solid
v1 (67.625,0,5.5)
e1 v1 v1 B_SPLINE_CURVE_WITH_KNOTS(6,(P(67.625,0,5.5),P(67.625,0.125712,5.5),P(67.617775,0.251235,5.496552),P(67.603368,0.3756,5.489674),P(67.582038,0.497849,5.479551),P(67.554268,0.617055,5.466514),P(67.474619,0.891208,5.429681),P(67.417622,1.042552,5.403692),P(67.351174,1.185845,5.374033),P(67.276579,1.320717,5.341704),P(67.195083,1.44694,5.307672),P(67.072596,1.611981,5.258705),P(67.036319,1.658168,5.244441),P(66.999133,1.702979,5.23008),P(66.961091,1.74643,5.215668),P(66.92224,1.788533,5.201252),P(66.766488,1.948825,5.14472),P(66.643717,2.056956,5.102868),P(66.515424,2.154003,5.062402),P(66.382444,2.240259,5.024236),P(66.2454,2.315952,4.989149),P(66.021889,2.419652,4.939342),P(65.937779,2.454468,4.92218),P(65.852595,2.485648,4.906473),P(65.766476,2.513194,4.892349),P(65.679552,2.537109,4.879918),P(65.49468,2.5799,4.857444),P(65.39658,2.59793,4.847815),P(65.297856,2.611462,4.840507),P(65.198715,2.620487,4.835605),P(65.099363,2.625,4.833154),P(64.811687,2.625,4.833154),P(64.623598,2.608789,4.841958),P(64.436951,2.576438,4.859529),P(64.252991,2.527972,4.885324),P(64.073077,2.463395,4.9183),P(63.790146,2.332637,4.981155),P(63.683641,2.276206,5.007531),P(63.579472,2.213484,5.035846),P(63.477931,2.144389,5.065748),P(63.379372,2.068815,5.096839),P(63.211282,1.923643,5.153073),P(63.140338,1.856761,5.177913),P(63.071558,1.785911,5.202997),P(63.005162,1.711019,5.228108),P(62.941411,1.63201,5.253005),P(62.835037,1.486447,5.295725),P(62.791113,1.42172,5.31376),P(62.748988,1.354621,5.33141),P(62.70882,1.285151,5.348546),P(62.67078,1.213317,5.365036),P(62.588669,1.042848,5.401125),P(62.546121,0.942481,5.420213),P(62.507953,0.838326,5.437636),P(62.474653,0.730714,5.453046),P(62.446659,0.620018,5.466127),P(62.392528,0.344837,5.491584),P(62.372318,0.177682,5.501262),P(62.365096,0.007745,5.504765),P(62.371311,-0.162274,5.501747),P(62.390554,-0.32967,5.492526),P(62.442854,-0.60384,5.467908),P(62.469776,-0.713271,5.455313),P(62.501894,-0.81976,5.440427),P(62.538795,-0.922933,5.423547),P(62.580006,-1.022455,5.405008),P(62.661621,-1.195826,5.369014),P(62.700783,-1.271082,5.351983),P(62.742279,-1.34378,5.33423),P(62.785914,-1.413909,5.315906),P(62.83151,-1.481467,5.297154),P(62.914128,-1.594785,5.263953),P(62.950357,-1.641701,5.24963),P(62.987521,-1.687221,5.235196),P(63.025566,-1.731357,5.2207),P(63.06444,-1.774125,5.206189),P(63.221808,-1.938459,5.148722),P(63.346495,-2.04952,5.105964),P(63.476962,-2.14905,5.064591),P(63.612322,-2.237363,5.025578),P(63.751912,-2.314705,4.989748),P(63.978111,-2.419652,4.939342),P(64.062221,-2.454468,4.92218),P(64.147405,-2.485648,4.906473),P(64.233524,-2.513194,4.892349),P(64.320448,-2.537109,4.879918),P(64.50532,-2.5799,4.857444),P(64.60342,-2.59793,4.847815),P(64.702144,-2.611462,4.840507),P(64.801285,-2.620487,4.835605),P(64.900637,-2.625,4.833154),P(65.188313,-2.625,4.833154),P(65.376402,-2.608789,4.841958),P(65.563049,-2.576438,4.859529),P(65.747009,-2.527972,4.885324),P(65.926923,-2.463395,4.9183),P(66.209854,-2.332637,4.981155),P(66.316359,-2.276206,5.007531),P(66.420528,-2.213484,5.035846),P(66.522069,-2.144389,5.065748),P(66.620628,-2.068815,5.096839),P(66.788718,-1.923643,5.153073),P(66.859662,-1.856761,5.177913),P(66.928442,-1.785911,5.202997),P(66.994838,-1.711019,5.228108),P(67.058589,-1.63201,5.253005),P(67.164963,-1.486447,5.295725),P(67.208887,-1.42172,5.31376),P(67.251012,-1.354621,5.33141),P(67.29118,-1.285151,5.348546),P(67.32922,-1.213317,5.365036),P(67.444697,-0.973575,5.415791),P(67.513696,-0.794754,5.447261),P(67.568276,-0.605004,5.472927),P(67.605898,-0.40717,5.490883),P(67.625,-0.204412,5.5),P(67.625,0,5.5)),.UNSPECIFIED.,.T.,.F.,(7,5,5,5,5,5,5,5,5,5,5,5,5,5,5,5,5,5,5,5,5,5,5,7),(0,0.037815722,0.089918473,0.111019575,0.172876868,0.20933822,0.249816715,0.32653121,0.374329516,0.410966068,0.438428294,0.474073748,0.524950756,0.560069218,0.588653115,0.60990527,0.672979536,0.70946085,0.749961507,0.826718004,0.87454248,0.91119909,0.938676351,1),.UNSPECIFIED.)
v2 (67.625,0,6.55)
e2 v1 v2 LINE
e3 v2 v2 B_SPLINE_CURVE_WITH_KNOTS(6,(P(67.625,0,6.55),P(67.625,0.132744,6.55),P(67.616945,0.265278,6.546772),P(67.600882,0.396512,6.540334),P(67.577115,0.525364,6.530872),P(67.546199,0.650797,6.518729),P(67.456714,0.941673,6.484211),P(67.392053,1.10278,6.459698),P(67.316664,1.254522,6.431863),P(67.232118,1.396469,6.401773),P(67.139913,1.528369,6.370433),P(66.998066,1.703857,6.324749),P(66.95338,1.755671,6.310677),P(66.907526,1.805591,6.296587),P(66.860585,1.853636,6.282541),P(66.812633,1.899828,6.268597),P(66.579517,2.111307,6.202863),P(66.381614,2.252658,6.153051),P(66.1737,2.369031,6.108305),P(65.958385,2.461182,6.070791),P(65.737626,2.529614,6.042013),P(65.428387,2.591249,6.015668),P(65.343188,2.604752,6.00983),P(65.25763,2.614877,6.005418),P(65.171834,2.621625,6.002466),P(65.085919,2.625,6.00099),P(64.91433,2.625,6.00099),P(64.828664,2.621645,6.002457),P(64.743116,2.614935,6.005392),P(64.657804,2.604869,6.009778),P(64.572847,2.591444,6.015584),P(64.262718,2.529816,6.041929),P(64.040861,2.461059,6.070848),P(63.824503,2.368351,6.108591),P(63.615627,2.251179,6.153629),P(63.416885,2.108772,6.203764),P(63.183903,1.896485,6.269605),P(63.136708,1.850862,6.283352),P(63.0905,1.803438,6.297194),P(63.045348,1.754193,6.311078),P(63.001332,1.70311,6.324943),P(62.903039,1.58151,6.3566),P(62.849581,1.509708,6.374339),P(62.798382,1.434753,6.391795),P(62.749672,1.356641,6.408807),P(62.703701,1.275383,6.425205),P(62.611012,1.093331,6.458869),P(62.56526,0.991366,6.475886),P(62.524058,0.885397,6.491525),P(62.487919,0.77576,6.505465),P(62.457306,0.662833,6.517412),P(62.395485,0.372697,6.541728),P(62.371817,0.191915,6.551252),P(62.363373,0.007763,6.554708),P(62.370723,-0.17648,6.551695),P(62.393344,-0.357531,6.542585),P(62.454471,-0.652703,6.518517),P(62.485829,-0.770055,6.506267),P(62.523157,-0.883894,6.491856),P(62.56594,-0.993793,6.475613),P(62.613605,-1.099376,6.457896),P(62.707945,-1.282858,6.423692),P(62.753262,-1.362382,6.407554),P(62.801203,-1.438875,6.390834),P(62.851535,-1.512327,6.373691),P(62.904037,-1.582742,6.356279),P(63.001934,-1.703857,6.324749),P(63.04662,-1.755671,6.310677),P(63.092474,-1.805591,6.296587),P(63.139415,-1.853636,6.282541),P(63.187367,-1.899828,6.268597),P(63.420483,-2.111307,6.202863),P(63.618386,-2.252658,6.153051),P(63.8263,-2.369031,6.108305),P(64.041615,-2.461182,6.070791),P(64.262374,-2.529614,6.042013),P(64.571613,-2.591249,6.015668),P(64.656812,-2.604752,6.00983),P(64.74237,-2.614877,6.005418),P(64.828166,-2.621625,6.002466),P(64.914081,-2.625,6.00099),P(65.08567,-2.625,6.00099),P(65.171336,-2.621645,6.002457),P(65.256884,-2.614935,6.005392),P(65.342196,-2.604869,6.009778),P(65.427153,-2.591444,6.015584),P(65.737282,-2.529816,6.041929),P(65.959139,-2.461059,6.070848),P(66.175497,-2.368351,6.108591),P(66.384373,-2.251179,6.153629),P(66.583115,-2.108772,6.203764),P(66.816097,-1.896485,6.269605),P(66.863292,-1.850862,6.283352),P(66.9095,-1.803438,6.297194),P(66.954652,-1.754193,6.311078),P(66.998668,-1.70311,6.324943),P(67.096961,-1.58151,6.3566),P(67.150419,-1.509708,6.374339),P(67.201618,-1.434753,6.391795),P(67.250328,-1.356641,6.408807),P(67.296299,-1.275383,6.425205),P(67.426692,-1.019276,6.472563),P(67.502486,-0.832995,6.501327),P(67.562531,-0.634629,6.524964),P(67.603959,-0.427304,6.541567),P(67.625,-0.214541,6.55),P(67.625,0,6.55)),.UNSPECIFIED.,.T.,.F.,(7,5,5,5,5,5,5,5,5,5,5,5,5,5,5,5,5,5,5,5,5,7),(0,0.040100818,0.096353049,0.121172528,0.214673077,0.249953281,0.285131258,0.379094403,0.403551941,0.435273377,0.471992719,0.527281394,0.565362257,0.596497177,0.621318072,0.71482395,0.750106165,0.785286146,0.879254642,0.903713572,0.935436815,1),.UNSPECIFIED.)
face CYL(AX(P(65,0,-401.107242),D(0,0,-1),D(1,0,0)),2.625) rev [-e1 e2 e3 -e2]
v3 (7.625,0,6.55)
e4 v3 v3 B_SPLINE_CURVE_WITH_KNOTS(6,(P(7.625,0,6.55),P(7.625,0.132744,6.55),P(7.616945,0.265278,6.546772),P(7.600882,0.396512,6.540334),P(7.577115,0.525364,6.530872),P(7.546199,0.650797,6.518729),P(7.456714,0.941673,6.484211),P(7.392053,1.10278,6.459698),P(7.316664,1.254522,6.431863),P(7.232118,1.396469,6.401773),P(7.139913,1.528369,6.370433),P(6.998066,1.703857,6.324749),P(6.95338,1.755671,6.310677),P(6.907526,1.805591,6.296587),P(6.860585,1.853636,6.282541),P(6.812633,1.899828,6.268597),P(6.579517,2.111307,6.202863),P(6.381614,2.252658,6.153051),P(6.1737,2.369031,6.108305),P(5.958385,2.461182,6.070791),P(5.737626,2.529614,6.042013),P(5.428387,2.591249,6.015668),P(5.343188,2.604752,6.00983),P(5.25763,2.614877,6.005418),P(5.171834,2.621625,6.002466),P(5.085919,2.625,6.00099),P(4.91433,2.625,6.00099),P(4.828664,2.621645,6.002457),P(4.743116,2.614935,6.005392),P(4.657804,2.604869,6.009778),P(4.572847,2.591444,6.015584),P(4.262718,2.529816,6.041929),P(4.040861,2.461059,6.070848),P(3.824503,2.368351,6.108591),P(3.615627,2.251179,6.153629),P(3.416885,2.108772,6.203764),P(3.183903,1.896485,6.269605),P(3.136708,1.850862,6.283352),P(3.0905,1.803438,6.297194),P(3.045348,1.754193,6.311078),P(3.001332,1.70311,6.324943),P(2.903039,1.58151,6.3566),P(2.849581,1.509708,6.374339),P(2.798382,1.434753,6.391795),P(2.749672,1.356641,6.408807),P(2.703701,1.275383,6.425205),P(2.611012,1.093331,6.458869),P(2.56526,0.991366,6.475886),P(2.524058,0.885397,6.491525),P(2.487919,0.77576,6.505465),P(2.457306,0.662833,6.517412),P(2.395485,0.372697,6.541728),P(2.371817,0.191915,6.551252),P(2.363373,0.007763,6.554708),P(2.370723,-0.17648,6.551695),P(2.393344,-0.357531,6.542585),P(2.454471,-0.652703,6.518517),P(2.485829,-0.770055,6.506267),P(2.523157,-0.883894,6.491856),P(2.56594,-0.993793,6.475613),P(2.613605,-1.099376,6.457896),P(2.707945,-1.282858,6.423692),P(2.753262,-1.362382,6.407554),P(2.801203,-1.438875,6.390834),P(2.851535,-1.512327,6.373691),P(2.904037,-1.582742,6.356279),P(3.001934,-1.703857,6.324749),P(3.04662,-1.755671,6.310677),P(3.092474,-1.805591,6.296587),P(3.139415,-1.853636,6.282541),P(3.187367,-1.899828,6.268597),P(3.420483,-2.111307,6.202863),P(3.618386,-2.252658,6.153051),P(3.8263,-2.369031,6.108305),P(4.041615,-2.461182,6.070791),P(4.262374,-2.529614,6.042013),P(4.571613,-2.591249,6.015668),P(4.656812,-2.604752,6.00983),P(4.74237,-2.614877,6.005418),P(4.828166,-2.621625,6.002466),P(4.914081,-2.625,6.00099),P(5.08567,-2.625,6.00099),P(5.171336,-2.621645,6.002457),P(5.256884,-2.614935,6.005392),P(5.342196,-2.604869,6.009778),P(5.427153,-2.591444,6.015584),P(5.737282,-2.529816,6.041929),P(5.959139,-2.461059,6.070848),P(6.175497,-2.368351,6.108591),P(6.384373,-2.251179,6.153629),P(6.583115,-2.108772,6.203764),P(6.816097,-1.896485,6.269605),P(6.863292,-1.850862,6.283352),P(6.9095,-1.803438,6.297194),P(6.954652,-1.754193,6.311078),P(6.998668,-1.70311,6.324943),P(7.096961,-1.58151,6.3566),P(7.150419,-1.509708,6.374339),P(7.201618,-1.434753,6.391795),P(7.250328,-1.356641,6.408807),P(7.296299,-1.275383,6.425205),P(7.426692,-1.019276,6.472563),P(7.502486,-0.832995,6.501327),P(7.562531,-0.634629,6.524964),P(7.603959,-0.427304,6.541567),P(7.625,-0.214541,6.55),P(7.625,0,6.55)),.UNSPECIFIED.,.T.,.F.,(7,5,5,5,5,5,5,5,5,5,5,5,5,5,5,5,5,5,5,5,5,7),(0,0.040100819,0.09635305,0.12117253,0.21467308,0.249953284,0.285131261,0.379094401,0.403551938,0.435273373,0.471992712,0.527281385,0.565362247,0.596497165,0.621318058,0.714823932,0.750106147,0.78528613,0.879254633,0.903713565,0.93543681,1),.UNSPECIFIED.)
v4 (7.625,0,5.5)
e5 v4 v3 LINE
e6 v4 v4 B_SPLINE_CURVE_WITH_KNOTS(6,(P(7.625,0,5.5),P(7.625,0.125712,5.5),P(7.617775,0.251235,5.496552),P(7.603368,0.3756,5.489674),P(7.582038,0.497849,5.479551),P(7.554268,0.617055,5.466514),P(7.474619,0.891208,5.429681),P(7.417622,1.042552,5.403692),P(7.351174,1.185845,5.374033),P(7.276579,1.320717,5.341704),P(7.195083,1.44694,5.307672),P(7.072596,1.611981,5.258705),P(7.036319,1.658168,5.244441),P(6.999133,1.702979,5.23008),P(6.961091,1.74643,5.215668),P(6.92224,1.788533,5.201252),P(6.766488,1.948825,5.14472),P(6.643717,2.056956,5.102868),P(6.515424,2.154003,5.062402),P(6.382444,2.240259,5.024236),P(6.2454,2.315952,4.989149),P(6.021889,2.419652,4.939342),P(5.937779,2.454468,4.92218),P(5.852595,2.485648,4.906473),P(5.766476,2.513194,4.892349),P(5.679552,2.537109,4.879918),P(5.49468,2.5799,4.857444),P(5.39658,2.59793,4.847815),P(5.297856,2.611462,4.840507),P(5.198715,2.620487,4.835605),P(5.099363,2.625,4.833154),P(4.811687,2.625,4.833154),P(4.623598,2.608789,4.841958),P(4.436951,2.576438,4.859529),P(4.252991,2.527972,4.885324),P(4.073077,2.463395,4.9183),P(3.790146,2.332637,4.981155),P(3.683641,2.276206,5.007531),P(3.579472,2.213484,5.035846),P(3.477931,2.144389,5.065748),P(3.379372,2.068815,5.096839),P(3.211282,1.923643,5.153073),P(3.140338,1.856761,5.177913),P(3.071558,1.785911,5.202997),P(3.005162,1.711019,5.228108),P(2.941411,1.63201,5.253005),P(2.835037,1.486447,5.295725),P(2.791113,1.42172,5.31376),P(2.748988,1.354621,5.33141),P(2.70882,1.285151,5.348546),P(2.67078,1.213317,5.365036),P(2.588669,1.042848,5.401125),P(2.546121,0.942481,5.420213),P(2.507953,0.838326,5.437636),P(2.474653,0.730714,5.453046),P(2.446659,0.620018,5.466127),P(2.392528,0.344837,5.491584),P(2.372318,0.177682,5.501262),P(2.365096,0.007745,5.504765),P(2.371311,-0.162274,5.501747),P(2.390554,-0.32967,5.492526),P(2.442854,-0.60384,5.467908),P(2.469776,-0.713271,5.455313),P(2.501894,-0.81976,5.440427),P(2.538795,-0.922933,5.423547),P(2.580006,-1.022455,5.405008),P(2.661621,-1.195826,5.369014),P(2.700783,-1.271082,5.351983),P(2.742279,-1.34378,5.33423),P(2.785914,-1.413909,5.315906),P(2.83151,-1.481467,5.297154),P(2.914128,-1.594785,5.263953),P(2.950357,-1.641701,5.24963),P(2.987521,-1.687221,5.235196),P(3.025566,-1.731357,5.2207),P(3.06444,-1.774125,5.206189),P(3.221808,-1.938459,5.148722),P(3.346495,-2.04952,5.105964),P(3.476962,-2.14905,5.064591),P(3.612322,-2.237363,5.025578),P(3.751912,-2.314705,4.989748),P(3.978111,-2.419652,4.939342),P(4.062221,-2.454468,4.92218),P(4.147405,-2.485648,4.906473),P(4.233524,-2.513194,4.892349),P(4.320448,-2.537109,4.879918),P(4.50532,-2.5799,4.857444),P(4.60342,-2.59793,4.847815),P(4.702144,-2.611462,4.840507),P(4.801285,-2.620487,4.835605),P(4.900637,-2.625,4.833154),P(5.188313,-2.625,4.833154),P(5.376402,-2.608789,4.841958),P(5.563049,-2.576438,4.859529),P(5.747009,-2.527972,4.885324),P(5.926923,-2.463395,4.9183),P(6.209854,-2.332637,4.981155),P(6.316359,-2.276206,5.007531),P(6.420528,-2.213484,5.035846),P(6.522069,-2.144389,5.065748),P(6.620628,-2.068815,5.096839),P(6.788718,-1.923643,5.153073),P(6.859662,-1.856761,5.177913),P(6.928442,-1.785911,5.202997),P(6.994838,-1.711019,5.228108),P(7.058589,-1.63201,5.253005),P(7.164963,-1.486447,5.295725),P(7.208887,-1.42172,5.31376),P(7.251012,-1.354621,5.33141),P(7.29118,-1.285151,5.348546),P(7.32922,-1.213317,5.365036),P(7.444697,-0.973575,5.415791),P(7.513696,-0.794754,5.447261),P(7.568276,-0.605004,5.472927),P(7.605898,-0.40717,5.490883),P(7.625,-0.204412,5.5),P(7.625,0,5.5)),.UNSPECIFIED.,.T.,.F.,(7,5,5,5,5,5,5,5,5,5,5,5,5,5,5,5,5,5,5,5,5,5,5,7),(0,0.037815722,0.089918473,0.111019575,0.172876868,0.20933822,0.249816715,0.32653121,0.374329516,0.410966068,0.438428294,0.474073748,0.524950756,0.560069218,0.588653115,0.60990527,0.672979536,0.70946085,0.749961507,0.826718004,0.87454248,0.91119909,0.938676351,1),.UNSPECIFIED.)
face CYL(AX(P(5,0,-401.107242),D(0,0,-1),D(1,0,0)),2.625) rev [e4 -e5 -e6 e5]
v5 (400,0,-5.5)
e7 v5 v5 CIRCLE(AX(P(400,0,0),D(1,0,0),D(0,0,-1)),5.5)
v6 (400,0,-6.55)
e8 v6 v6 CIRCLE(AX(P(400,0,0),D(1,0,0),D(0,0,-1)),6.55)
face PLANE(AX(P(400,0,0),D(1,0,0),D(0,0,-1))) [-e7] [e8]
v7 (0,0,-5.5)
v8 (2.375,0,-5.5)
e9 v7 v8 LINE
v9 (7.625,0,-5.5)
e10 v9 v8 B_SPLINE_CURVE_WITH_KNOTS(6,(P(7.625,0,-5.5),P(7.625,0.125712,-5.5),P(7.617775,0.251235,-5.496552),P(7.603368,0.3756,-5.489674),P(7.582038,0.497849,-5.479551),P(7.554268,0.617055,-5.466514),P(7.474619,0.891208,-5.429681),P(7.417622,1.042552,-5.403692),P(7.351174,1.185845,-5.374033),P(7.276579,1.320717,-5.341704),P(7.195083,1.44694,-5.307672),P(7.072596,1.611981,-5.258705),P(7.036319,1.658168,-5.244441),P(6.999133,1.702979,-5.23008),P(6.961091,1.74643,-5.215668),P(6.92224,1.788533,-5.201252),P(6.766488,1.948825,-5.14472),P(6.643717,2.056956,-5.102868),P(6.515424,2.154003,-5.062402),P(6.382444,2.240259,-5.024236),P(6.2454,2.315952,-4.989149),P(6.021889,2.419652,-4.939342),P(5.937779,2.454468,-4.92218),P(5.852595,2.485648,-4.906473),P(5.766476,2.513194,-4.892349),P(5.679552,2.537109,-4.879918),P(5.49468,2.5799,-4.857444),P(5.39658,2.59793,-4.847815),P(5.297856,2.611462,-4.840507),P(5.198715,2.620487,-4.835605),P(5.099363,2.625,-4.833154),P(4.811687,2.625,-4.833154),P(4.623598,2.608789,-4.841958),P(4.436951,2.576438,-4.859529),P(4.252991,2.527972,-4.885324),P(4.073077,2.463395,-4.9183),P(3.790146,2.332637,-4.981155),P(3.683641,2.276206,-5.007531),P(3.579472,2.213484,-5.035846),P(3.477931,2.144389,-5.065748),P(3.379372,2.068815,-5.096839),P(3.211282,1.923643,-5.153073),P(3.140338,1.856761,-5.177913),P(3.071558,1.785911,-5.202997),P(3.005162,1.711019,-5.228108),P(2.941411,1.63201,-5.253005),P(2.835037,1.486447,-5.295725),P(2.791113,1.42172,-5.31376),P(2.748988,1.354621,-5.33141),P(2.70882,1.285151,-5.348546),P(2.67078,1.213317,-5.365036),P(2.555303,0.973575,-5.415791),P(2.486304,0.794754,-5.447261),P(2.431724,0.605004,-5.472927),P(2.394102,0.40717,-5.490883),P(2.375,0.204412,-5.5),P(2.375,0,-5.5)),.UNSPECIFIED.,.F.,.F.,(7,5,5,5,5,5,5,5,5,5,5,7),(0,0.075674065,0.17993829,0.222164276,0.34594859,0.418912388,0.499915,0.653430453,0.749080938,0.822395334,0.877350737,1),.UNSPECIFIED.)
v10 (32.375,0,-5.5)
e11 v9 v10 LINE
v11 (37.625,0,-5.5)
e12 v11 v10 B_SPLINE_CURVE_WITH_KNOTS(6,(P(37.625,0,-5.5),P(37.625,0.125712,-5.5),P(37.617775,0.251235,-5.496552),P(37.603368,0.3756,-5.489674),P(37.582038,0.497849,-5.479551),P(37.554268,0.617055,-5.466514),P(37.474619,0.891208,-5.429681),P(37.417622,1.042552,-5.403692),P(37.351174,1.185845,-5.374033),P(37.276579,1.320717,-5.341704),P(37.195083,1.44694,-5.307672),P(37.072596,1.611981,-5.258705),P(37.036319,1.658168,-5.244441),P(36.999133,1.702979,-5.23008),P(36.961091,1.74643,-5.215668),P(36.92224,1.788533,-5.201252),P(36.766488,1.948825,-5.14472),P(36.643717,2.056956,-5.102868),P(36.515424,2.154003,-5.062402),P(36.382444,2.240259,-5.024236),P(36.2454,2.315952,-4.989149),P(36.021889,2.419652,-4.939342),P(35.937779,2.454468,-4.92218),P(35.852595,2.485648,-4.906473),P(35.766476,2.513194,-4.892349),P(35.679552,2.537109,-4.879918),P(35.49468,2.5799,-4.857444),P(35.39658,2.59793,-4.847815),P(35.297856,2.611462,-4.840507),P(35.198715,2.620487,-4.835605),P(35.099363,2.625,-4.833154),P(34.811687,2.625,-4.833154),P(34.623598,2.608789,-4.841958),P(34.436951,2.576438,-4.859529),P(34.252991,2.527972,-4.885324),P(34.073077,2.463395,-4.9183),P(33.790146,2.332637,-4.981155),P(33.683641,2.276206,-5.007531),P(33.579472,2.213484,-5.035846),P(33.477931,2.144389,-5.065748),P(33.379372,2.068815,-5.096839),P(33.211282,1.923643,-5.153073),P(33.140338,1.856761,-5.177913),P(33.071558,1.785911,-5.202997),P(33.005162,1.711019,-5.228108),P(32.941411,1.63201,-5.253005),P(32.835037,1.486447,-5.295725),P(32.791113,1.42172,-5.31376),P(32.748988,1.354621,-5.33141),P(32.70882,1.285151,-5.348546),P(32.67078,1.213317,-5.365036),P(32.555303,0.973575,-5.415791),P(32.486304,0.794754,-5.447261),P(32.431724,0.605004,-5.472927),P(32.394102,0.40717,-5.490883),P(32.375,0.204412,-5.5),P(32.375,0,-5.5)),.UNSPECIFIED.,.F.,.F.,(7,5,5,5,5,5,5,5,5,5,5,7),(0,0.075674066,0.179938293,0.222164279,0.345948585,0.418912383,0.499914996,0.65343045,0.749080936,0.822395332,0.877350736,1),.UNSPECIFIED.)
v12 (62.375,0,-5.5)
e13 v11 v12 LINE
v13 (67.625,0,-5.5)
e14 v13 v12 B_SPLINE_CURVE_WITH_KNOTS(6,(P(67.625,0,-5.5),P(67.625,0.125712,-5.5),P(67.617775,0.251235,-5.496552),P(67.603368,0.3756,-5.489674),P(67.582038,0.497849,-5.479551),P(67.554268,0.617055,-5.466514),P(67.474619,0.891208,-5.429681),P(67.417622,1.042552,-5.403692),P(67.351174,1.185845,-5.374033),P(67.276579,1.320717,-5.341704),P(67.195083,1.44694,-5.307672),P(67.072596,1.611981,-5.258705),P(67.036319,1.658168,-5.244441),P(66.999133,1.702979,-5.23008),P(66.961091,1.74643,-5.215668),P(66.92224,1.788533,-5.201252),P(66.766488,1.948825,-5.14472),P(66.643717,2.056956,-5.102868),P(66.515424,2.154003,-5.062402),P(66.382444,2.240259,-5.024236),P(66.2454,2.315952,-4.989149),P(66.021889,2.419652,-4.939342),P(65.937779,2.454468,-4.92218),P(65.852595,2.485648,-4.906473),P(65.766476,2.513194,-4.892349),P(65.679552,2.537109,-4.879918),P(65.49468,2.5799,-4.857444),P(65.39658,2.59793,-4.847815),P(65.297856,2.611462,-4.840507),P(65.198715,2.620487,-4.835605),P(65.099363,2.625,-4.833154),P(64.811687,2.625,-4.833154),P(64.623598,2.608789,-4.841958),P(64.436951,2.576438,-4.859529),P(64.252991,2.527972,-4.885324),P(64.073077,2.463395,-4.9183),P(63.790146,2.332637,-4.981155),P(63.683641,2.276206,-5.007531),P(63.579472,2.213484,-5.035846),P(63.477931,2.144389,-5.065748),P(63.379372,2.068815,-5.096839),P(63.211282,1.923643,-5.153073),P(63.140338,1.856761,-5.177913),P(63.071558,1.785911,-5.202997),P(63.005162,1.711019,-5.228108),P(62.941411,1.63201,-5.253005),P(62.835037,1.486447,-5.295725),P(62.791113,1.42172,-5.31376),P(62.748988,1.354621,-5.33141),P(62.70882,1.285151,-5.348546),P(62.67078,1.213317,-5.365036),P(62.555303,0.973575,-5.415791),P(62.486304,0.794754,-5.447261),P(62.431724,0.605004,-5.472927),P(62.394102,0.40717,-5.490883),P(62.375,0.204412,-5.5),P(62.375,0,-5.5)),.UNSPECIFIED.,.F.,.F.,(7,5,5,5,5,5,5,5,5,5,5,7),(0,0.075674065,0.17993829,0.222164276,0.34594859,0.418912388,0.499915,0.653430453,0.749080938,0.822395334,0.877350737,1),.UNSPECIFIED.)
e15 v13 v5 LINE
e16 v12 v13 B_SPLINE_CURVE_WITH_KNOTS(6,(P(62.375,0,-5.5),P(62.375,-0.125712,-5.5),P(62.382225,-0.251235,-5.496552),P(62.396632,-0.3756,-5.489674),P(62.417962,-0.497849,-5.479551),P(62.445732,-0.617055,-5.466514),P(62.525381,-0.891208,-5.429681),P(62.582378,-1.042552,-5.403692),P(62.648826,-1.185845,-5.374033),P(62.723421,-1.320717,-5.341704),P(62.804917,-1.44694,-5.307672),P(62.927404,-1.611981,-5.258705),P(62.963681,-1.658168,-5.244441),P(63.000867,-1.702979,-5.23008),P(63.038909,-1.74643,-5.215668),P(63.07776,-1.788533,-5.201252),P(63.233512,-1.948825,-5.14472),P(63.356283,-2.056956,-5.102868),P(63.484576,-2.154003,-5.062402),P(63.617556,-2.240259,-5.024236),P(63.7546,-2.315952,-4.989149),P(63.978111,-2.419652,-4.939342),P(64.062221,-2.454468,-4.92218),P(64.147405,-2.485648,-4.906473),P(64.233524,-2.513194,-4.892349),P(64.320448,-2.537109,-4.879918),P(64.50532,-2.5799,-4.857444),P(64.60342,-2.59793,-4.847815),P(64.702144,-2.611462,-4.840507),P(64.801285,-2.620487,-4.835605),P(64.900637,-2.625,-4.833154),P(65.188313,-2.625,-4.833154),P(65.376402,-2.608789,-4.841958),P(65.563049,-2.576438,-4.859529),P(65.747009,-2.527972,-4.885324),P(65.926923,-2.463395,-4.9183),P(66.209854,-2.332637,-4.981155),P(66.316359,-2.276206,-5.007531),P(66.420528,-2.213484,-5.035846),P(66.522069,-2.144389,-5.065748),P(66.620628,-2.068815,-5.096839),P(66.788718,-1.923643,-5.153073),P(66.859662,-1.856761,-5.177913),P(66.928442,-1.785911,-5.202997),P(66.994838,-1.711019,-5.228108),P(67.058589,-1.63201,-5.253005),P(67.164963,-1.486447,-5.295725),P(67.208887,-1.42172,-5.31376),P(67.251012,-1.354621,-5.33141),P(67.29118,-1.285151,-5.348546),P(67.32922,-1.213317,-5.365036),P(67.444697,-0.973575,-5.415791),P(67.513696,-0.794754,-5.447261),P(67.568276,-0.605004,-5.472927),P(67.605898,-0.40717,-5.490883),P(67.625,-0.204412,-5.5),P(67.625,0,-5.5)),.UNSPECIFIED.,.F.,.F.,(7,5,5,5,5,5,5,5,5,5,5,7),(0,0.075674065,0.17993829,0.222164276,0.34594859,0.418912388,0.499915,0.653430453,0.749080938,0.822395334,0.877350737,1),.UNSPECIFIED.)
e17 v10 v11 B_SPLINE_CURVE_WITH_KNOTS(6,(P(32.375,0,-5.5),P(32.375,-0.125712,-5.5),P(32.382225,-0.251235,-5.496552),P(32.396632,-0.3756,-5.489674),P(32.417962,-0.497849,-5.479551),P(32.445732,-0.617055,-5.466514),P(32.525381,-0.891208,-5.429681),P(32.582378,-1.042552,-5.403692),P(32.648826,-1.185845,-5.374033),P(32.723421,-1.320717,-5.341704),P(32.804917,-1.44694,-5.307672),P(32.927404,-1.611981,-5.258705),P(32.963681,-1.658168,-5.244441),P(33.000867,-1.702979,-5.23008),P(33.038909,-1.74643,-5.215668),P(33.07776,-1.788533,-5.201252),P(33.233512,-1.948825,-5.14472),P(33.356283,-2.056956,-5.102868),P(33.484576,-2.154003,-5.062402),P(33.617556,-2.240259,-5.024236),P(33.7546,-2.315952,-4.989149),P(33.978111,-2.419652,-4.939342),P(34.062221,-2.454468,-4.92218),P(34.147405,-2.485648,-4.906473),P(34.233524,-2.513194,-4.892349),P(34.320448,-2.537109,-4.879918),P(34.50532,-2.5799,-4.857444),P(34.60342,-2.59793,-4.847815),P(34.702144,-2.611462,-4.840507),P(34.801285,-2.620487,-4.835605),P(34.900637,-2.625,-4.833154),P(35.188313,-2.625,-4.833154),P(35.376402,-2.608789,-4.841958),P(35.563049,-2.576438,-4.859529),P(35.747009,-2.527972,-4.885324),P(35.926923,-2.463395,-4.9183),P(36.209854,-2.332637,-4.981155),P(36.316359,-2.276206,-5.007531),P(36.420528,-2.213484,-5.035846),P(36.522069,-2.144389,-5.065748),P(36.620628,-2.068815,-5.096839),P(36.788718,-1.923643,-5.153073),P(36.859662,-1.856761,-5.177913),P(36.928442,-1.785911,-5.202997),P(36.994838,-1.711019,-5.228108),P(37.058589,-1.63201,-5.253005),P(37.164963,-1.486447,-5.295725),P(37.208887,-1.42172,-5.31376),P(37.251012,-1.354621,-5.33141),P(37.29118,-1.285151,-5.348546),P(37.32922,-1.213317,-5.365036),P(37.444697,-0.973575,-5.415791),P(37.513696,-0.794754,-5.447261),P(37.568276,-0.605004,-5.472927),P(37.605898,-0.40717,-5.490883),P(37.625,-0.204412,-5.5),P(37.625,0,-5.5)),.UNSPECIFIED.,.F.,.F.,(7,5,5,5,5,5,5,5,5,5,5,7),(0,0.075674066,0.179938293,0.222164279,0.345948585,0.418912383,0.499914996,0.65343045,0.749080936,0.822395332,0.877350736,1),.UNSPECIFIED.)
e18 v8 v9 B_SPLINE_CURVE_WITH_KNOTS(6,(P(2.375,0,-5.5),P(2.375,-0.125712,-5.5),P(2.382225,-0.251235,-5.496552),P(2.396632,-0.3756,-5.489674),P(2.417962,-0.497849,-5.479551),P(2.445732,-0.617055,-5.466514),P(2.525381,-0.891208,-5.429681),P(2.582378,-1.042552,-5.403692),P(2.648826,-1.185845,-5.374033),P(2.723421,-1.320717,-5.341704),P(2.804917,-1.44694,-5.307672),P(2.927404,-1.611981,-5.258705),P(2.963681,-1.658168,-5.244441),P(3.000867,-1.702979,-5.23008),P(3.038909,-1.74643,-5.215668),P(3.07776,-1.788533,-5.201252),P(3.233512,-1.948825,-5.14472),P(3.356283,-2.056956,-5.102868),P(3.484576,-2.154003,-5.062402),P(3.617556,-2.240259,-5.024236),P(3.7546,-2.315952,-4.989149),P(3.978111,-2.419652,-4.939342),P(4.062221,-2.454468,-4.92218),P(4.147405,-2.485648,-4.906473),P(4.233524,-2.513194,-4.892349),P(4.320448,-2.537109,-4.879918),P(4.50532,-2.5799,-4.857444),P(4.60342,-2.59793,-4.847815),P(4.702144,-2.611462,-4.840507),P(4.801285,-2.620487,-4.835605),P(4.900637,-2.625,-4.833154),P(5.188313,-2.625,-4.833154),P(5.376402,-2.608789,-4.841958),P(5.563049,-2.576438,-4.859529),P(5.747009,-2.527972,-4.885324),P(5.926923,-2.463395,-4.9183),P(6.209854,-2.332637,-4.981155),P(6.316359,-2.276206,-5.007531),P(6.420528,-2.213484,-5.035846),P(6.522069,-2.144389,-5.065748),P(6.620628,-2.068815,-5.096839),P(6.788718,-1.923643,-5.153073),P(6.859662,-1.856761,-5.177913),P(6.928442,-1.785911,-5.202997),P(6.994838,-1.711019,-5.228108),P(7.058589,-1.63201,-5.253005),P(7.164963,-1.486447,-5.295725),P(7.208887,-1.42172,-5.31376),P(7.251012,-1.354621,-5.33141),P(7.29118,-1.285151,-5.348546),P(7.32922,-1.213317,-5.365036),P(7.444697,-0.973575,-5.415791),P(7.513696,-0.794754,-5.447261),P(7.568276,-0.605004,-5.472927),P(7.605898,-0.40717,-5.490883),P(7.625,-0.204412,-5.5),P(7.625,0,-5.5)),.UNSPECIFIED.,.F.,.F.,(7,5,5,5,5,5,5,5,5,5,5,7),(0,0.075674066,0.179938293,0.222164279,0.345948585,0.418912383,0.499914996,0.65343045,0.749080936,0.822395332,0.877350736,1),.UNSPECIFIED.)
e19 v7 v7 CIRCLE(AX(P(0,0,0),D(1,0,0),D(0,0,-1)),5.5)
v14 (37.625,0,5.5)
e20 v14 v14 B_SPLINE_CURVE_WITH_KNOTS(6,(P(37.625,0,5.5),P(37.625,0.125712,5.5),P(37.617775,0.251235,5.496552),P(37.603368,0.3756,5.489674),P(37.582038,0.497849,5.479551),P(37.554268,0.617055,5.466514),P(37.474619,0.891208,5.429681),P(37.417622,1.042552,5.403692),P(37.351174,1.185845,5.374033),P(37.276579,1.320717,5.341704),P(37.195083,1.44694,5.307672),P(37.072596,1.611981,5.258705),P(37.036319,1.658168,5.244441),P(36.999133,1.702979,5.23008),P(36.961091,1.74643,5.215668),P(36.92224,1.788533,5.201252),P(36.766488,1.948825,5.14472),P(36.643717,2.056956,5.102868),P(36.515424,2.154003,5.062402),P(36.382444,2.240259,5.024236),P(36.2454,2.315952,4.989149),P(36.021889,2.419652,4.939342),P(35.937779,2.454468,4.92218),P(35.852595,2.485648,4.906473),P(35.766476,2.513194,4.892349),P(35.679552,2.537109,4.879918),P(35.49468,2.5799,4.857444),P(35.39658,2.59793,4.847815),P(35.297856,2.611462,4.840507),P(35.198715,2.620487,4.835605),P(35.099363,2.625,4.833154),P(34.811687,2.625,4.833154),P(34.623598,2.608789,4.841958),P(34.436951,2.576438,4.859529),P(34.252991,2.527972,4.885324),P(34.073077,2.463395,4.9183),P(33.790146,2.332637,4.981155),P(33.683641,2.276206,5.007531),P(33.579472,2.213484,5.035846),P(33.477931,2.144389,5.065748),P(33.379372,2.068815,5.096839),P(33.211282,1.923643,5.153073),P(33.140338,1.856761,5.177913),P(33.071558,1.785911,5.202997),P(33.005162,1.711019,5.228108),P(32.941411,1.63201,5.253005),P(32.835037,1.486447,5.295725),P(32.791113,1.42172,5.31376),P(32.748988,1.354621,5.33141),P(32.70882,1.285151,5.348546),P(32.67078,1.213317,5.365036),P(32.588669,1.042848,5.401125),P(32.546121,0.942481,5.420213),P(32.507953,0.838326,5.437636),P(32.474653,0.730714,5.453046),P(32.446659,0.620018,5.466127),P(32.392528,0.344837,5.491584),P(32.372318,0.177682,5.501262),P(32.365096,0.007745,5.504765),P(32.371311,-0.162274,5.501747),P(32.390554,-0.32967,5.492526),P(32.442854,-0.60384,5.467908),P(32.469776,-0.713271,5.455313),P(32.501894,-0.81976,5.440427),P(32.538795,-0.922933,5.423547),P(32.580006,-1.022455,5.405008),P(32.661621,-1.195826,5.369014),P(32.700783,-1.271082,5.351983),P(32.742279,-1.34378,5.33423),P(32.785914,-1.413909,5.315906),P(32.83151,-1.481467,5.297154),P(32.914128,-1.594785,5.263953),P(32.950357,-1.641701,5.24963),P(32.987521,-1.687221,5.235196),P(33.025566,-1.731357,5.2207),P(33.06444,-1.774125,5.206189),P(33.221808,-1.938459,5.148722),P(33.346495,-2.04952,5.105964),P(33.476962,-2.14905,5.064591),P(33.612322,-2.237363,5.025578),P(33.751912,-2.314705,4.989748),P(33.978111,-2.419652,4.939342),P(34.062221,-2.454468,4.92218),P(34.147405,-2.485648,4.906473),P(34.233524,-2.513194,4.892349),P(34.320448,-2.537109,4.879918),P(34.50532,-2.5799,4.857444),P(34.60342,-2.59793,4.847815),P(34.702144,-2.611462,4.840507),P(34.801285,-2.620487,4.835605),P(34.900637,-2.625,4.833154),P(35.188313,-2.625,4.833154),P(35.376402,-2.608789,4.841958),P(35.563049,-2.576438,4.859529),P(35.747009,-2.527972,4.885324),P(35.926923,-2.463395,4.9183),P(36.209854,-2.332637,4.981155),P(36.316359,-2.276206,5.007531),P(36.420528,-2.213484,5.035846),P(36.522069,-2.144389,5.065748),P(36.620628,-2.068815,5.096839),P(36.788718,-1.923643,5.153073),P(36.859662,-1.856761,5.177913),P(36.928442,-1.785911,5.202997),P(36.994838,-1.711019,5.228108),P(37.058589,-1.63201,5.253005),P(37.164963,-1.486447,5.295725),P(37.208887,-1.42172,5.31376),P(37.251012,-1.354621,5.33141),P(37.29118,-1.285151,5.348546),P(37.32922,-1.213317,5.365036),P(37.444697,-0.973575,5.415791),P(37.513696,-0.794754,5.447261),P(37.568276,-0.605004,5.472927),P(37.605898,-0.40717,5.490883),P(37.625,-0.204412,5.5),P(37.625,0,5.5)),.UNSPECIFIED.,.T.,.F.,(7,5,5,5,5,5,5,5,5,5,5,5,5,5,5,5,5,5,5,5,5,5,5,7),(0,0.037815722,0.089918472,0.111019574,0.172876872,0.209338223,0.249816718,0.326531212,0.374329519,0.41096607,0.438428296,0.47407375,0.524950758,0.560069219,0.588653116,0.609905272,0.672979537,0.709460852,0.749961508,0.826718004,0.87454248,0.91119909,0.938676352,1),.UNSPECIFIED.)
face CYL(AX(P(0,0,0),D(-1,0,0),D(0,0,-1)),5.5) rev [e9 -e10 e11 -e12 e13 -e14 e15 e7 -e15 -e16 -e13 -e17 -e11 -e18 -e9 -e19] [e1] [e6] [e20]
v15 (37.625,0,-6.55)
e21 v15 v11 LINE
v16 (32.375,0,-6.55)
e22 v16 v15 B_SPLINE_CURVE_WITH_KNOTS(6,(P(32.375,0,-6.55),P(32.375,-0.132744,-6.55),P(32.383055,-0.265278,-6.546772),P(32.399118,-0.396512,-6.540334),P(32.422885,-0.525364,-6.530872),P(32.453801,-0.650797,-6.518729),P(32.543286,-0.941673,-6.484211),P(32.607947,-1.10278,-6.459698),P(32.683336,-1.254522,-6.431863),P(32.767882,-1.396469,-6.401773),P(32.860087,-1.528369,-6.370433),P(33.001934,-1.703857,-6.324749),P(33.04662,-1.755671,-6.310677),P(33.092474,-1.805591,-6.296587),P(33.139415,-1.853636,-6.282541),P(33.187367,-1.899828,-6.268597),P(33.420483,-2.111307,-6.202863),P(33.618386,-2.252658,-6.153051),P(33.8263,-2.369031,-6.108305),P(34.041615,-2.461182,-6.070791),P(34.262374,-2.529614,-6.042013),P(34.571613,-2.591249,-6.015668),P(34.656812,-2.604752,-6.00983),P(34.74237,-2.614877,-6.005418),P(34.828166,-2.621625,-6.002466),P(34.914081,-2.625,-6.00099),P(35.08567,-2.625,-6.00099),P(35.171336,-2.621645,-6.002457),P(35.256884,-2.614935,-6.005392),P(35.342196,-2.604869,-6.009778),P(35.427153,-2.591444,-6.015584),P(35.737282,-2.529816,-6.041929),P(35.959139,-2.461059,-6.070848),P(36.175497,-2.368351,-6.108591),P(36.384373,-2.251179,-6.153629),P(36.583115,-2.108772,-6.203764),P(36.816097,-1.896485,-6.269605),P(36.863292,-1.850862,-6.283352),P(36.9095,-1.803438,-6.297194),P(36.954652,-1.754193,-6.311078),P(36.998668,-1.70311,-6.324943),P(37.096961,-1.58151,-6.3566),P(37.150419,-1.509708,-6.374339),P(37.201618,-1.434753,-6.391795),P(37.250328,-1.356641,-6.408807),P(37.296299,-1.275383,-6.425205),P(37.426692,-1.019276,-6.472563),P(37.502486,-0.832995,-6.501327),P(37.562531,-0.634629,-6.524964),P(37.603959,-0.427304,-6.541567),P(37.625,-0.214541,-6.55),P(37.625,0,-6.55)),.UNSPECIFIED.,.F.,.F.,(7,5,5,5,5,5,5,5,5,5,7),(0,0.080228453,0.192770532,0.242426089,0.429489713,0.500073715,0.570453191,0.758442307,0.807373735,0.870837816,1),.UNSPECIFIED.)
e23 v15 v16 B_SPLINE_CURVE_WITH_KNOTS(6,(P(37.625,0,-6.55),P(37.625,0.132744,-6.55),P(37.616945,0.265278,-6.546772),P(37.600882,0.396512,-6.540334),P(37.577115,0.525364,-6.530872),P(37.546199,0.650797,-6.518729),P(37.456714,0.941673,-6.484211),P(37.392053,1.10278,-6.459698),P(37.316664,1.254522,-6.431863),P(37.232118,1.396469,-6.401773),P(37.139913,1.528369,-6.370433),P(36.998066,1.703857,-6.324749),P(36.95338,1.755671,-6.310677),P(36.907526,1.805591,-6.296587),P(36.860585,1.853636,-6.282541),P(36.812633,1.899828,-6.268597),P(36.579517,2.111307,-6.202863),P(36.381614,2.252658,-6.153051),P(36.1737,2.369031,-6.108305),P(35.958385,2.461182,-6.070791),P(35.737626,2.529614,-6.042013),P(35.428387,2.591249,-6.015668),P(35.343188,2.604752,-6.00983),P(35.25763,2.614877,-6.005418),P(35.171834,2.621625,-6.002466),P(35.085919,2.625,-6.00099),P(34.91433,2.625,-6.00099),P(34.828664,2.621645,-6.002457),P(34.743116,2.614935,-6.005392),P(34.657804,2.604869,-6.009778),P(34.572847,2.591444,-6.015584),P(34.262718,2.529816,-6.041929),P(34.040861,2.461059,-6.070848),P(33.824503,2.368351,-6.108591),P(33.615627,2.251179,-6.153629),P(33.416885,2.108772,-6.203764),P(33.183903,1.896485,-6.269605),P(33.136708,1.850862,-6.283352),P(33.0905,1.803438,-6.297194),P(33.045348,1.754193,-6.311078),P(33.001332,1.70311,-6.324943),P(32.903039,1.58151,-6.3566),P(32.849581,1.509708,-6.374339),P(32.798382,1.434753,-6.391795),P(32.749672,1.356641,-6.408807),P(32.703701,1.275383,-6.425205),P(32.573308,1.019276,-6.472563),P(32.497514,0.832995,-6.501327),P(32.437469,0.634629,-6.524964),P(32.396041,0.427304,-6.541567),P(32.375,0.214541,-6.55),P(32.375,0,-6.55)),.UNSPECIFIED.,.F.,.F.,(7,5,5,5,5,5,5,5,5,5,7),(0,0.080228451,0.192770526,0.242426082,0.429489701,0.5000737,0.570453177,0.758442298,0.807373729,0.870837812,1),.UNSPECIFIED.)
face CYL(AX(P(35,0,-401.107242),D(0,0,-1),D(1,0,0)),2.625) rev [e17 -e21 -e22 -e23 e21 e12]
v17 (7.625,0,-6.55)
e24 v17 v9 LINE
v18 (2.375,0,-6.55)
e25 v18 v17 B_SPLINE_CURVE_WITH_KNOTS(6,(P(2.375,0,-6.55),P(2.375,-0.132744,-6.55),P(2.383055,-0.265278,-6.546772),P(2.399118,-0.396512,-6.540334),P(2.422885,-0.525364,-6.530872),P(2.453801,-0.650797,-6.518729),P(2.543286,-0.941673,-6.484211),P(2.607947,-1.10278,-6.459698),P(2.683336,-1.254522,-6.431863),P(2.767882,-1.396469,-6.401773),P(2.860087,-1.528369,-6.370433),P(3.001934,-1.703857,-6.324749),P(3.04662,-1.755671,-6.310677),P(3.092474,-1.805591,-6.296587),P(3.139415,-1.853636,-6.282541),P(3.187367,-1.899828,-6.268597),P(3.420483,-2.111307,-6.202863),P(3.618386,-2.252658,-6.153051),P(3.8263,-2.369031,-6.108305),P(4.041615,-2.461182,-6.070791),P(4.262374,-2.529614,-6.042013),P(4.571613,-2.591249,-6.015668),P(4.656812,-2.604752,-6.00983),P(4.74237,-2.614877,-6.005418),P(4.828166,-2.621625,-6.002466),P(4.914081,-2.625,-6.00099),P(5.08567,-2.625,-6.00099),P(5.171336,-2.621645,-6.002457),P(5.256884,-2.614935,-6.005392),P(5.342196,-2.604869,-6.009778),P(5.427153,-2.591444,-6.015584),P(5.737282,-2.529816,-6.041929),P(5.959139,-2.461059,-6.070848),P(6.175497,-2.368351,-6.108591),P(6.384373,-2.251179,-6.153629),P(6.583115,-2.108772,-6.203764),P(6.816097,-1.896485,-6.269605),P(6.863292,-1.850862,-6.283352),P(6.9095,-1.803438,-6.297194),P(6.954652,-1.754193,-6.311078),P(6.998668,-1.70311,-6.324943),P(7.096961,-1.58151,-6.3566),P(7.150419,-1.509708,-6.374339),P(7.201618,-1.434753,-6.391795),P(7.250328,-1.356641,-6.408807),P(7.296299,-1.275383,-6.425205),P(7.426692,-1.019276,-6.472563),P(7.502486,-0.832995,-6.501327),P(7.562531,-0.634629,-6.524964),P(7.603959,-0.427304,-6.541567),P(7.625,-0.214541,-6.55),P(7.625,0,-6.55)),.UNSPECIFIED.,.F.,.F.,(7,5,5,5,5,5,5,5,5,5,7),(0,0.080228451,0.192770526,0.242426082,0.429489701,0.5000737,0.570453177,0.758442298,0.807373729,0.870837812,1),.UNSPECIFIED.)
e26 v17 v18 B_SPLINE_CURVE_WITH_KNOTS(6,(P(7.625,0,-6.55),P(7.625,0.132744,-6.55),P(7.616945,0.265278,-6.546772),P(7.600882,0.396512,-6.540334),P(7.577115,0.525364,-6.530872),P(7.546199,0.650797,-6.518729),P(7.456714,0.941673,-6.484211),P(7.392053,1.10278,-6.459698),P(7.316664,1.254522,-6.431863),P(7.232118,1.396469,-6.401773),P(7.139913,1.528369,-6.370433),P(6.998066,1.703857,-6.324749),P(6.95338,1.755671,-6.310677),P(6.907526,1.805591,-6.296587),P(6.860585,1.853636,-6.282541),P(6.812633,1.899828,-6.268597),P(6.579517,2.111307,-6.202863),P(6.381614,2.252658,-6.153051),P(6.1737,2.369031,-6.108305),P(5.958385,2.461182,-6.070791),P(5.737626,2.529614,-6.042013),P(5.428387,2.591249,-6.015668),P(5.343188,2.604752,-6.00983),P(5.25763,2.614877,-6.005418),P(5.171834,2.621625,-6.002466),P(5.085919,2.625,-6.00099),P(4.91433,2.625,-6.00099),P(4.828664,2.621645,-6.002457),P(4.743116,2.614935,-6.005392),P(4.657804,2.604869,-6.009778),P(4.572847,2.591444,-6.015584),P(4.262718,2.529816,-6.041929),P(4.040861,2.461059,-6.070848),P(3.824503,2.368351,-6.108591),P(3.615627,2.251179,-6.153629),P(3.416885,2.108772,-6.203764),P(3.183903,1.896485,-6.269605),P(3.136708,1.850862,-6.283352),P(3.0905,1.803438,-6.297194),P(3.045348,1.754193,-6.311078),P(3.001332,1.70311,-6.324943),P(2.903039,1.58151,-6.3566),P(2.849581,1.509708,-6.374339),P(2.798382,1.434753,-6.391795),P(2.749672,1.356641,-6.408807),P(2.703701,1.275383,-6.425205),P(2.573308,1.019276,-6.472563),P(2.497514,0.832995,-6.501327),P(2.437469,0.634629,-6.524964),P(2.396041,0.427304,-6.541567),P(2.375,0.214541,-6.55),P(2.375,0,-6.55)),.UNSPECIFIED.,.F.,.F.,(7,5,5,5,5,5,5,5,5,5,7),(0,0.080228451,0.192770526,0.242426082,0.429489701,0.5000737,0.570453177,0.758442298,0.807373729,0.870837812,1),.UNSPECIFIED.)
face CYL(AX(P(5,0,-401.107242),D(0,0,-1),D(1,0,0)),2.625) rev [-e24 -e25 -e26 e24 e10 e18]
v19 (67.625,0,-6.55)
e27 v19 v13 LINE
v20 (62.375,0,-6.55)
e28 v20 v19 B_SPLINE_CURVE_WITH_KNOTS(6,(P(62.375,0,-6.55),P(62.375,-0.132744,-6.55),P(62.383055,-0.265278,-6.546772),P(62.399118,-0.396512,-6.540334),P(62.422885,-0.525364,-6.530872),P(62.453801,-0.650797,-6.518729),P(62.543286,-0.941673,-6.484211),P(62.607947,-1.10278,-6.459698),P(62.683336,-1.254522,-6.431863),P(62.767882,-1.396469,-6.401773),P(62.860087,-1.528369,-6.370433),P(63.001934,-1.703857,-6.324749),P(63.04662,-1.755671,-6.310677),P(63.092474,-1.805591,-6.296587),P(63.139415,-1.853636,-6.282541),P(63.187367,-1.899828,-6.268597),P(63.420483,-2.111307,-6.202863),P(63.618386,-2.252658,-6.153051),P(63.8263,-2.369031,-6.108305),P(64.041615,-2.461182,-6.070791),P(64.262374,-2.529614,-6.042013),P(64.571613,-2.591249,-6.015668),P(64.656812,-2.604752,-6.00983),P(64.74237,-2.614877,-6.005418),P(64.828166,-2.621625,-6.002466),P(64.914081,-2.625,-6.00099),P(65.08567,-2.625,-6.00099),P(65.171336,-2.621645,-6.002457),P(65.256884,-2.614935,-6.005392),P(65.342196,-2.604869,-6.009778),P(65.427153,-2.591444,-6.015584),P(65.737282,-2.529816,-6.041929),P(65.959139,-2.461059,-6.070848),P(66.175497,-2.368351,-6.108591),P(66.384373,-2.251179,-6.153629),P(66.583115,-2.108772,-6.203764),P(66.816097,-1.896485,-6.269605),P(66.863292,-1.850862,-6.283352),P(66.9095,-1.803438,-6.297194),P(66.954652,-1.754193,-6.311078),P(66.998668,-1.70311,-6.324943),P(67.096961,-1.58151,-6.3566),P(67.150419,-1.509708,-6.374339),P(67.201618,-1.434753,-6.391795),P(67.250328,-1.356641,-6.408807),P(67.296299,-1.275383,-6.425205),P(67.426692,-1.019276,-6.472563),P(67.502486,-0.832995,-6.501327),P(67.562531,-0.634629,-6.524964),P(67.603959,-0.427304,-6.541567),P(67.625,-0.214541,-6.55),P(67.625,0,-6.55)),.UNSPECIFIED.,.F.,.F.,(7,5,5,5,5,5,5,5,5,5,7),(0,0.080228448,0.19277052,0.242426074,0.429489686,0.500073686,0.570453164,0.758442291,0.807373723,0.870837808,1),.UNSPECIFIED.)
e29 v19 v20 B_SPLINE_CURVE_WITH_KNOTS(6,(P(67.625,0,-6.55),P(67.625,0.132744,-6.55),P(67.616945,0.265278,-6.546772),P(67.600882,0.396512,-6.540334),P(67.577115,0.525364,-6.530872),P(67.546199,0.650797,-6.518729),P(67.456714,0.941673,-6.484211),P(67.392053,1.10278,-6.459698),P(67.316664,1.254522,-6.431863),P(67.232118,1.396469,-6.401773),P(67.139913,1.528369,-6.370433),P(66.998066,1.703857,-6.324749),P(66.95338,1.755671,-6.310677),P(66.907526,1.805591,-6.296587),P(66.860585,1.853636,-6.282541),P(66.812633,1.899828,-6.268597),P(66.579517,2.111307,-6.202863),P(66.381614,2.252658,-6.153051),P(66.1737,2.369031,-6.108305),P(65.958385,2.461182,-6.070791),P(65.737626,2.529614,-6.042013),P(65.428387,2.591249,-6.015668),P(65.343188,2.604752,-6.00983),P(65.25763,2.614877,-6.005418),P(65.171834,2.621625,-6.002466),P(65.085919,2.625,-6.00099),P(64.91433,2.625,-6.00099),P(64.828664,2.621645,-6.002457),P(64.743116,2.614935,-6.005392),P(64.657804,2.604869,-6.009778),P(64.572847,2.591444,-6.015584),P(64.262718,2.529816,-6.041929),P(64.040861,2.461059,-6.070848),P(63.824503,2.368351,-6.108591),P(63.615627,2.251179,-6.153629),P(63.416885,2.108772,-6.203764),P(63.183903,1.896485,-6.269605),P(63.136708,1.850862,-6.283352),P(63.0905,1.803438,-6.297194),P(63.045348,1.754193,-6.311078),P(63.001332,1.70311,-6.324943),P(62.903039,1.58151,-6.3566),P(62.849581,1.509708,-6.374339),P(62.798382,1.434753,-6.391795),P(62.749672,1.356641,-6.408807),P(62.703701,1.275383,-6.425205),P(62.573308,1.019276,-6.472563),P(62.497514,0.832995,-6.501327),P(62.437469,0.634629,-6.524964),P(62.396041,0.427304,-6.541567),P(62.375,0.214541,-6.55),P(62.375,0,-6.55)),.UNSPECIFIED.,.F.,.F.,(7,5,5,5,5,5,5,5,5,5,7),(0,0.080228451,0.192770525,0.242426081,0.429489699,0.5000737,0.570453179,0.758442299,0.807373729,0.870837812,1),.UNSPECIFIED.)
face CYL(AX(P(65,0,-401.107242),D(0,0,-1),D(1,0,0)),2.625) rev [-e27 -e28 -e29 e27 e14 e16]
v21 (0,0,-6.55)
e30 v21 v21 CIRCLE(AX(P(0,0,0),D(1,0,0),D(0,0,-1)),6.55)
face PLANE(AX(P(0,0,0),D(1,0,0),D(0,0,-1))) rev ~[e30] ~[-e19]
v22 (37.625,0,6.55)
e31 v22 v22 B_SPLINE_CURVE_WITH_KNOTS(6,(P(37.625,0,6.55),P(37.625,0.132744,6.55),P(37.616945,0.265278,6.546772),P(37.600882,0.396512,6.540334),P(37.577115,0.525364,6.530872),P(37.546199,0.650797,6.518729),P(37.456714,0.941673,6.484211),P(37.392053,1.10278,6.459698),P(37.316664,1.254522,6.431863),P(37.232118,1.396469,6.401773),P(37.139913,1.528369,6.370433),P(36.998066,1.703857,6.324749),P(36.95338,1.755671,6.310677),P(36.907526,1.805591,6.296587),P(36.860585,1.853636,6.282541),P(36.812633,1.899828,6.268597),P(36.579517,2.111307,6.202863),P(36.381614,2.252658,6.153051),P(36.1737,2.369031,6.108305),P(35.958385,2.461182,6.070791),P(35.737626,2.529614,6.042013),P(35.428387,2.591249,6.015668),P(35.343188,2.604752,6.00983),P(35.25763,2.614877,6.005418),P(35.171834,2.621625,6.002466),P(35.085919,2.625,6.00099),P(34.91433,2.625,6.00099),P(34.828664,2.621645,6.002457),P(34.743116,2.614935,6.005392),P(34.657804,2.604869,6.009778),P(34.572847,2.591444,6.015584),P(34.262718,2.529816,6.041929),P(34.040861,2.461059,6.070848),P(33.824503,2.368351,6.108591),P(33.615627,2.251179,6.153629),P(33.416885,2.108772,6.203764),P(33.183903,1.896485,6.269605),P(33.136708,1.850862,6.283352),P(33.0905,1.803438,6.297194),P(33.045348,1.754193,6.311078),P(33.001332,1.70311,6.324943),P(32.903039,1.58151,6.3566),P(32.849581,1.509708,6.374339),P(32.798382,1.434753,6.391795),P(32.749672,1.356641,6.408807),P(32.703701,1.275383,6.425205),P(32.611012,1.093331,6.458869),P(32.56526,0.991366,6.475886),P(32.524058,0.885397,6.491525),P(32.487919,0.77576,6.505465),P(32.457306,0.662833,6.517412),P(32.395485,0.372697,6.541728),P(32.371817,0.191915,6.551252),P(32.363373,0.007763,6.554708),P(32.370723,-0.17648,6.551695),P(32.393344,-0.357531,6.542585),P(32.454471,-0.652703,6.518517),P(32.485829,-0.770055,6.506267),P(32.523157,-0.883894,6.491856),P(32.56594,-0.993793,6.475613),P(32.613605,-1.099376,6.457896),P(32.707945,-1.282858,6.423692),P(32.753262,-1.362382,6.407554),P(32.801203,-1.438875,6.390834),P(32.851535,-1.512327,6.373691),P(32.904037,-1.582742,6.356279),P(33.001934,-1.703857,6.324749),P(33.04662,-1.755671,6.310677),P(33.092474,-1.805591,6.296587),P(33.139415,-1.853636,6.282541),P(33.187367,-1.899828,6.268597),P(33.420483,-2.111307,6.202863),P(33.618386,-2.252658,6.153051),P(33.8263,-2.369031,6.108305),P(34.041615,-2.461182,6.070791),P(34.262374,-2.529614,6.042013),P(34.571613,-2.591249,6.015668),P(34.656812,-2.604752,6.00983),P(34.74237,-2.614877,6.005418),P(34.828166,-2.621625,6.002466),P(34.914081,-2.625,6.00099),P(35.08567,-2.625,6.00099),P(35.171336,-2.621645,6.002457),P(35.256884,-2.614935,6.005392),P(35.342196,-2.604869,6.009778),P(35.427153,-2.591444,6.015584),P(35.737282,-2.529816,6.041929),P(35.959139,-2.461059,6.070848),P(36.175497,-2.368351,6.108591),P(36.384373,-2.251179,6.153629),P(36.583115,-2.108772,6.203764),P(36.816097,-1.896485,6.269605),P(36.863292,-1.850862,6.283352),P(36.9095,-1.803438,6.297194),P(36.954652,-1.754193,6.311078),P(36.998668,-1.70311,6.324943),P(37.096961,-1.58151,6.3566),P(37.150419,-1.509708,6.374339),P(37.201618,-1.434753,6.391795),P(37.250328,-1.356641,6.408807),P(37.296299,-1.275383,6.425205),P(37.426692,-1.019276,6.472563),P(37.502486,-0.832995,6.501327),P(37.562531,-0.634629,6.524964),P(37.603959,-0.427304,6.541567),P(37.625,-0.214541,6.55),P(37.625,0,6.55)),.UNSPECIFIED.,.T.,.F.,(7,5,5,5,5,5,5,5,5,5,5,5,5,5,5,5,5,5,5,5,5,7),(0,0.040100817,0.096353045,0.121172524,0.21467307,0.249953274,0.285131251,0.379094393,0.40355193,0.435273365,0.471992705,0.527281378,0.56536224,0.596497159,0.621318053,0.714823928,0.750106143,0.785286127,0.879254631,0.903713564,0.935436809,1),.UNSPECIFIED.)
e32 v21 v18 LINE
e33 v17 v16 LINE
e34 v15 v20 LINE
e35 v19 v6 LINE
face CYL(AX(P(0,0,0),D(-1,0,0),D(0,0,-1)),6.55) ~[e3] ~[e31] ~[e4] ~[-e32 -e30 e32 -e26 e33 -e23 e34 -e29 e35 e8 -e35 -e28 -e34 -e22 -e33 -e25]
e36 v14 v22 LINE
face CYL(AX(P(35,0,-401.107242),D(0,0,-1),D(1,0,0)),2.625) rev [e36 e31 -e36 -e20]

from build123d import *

# Parameters (mm, degrees)
SKETCH1_R               = 6.55
SKETCH1_R_2             = 5.5
BOSS_EXTRUDE1_DEPTH     = 400
CUT_EXTRUDE1_DEPTH      = 401.107241874
CUT_EXTRUDE1_DEPTH_BACK = 401.107241874
SKETCH2_R               = 2.625


with BuildPart() as part:
    # Sketch1 → Boss-Extrude1 (new body)
    with BuildSketch(Plane(origin=(0, 0, 0), x_dir=(0, 0, -1), z_dir=(1, 0, 0))):
        Circle(SKETCH1_R)
        Circle(SKETCH1_R_2, mode=Mode.SUBTRACT)
    extrude(amount=BOSS_EXTRUDE1_DEPTH)

    # Sketch2 → Cut-Extrude1 (cut, two sides: drawn at the far end of the back side and taken through both)
    with BuildSketch(Plane.XY.offset(-CUT_EXTRUDE1_DEPTH_BACK)):
        with Locations((5, 0)):
            Circle(SKETCH2_R)
        with Locations((35, 0)):
            Circle(SKETCH2_R)
        with Locations((65, 0)):
            Circle(SKETCH2_R)
    extrude(amount=CUT_EXTRUDE1_DEPTH + CUT_EXTRUDE1_DEPTH_BACK, mode=Mode.SUBTRACT)


solid = part.part
